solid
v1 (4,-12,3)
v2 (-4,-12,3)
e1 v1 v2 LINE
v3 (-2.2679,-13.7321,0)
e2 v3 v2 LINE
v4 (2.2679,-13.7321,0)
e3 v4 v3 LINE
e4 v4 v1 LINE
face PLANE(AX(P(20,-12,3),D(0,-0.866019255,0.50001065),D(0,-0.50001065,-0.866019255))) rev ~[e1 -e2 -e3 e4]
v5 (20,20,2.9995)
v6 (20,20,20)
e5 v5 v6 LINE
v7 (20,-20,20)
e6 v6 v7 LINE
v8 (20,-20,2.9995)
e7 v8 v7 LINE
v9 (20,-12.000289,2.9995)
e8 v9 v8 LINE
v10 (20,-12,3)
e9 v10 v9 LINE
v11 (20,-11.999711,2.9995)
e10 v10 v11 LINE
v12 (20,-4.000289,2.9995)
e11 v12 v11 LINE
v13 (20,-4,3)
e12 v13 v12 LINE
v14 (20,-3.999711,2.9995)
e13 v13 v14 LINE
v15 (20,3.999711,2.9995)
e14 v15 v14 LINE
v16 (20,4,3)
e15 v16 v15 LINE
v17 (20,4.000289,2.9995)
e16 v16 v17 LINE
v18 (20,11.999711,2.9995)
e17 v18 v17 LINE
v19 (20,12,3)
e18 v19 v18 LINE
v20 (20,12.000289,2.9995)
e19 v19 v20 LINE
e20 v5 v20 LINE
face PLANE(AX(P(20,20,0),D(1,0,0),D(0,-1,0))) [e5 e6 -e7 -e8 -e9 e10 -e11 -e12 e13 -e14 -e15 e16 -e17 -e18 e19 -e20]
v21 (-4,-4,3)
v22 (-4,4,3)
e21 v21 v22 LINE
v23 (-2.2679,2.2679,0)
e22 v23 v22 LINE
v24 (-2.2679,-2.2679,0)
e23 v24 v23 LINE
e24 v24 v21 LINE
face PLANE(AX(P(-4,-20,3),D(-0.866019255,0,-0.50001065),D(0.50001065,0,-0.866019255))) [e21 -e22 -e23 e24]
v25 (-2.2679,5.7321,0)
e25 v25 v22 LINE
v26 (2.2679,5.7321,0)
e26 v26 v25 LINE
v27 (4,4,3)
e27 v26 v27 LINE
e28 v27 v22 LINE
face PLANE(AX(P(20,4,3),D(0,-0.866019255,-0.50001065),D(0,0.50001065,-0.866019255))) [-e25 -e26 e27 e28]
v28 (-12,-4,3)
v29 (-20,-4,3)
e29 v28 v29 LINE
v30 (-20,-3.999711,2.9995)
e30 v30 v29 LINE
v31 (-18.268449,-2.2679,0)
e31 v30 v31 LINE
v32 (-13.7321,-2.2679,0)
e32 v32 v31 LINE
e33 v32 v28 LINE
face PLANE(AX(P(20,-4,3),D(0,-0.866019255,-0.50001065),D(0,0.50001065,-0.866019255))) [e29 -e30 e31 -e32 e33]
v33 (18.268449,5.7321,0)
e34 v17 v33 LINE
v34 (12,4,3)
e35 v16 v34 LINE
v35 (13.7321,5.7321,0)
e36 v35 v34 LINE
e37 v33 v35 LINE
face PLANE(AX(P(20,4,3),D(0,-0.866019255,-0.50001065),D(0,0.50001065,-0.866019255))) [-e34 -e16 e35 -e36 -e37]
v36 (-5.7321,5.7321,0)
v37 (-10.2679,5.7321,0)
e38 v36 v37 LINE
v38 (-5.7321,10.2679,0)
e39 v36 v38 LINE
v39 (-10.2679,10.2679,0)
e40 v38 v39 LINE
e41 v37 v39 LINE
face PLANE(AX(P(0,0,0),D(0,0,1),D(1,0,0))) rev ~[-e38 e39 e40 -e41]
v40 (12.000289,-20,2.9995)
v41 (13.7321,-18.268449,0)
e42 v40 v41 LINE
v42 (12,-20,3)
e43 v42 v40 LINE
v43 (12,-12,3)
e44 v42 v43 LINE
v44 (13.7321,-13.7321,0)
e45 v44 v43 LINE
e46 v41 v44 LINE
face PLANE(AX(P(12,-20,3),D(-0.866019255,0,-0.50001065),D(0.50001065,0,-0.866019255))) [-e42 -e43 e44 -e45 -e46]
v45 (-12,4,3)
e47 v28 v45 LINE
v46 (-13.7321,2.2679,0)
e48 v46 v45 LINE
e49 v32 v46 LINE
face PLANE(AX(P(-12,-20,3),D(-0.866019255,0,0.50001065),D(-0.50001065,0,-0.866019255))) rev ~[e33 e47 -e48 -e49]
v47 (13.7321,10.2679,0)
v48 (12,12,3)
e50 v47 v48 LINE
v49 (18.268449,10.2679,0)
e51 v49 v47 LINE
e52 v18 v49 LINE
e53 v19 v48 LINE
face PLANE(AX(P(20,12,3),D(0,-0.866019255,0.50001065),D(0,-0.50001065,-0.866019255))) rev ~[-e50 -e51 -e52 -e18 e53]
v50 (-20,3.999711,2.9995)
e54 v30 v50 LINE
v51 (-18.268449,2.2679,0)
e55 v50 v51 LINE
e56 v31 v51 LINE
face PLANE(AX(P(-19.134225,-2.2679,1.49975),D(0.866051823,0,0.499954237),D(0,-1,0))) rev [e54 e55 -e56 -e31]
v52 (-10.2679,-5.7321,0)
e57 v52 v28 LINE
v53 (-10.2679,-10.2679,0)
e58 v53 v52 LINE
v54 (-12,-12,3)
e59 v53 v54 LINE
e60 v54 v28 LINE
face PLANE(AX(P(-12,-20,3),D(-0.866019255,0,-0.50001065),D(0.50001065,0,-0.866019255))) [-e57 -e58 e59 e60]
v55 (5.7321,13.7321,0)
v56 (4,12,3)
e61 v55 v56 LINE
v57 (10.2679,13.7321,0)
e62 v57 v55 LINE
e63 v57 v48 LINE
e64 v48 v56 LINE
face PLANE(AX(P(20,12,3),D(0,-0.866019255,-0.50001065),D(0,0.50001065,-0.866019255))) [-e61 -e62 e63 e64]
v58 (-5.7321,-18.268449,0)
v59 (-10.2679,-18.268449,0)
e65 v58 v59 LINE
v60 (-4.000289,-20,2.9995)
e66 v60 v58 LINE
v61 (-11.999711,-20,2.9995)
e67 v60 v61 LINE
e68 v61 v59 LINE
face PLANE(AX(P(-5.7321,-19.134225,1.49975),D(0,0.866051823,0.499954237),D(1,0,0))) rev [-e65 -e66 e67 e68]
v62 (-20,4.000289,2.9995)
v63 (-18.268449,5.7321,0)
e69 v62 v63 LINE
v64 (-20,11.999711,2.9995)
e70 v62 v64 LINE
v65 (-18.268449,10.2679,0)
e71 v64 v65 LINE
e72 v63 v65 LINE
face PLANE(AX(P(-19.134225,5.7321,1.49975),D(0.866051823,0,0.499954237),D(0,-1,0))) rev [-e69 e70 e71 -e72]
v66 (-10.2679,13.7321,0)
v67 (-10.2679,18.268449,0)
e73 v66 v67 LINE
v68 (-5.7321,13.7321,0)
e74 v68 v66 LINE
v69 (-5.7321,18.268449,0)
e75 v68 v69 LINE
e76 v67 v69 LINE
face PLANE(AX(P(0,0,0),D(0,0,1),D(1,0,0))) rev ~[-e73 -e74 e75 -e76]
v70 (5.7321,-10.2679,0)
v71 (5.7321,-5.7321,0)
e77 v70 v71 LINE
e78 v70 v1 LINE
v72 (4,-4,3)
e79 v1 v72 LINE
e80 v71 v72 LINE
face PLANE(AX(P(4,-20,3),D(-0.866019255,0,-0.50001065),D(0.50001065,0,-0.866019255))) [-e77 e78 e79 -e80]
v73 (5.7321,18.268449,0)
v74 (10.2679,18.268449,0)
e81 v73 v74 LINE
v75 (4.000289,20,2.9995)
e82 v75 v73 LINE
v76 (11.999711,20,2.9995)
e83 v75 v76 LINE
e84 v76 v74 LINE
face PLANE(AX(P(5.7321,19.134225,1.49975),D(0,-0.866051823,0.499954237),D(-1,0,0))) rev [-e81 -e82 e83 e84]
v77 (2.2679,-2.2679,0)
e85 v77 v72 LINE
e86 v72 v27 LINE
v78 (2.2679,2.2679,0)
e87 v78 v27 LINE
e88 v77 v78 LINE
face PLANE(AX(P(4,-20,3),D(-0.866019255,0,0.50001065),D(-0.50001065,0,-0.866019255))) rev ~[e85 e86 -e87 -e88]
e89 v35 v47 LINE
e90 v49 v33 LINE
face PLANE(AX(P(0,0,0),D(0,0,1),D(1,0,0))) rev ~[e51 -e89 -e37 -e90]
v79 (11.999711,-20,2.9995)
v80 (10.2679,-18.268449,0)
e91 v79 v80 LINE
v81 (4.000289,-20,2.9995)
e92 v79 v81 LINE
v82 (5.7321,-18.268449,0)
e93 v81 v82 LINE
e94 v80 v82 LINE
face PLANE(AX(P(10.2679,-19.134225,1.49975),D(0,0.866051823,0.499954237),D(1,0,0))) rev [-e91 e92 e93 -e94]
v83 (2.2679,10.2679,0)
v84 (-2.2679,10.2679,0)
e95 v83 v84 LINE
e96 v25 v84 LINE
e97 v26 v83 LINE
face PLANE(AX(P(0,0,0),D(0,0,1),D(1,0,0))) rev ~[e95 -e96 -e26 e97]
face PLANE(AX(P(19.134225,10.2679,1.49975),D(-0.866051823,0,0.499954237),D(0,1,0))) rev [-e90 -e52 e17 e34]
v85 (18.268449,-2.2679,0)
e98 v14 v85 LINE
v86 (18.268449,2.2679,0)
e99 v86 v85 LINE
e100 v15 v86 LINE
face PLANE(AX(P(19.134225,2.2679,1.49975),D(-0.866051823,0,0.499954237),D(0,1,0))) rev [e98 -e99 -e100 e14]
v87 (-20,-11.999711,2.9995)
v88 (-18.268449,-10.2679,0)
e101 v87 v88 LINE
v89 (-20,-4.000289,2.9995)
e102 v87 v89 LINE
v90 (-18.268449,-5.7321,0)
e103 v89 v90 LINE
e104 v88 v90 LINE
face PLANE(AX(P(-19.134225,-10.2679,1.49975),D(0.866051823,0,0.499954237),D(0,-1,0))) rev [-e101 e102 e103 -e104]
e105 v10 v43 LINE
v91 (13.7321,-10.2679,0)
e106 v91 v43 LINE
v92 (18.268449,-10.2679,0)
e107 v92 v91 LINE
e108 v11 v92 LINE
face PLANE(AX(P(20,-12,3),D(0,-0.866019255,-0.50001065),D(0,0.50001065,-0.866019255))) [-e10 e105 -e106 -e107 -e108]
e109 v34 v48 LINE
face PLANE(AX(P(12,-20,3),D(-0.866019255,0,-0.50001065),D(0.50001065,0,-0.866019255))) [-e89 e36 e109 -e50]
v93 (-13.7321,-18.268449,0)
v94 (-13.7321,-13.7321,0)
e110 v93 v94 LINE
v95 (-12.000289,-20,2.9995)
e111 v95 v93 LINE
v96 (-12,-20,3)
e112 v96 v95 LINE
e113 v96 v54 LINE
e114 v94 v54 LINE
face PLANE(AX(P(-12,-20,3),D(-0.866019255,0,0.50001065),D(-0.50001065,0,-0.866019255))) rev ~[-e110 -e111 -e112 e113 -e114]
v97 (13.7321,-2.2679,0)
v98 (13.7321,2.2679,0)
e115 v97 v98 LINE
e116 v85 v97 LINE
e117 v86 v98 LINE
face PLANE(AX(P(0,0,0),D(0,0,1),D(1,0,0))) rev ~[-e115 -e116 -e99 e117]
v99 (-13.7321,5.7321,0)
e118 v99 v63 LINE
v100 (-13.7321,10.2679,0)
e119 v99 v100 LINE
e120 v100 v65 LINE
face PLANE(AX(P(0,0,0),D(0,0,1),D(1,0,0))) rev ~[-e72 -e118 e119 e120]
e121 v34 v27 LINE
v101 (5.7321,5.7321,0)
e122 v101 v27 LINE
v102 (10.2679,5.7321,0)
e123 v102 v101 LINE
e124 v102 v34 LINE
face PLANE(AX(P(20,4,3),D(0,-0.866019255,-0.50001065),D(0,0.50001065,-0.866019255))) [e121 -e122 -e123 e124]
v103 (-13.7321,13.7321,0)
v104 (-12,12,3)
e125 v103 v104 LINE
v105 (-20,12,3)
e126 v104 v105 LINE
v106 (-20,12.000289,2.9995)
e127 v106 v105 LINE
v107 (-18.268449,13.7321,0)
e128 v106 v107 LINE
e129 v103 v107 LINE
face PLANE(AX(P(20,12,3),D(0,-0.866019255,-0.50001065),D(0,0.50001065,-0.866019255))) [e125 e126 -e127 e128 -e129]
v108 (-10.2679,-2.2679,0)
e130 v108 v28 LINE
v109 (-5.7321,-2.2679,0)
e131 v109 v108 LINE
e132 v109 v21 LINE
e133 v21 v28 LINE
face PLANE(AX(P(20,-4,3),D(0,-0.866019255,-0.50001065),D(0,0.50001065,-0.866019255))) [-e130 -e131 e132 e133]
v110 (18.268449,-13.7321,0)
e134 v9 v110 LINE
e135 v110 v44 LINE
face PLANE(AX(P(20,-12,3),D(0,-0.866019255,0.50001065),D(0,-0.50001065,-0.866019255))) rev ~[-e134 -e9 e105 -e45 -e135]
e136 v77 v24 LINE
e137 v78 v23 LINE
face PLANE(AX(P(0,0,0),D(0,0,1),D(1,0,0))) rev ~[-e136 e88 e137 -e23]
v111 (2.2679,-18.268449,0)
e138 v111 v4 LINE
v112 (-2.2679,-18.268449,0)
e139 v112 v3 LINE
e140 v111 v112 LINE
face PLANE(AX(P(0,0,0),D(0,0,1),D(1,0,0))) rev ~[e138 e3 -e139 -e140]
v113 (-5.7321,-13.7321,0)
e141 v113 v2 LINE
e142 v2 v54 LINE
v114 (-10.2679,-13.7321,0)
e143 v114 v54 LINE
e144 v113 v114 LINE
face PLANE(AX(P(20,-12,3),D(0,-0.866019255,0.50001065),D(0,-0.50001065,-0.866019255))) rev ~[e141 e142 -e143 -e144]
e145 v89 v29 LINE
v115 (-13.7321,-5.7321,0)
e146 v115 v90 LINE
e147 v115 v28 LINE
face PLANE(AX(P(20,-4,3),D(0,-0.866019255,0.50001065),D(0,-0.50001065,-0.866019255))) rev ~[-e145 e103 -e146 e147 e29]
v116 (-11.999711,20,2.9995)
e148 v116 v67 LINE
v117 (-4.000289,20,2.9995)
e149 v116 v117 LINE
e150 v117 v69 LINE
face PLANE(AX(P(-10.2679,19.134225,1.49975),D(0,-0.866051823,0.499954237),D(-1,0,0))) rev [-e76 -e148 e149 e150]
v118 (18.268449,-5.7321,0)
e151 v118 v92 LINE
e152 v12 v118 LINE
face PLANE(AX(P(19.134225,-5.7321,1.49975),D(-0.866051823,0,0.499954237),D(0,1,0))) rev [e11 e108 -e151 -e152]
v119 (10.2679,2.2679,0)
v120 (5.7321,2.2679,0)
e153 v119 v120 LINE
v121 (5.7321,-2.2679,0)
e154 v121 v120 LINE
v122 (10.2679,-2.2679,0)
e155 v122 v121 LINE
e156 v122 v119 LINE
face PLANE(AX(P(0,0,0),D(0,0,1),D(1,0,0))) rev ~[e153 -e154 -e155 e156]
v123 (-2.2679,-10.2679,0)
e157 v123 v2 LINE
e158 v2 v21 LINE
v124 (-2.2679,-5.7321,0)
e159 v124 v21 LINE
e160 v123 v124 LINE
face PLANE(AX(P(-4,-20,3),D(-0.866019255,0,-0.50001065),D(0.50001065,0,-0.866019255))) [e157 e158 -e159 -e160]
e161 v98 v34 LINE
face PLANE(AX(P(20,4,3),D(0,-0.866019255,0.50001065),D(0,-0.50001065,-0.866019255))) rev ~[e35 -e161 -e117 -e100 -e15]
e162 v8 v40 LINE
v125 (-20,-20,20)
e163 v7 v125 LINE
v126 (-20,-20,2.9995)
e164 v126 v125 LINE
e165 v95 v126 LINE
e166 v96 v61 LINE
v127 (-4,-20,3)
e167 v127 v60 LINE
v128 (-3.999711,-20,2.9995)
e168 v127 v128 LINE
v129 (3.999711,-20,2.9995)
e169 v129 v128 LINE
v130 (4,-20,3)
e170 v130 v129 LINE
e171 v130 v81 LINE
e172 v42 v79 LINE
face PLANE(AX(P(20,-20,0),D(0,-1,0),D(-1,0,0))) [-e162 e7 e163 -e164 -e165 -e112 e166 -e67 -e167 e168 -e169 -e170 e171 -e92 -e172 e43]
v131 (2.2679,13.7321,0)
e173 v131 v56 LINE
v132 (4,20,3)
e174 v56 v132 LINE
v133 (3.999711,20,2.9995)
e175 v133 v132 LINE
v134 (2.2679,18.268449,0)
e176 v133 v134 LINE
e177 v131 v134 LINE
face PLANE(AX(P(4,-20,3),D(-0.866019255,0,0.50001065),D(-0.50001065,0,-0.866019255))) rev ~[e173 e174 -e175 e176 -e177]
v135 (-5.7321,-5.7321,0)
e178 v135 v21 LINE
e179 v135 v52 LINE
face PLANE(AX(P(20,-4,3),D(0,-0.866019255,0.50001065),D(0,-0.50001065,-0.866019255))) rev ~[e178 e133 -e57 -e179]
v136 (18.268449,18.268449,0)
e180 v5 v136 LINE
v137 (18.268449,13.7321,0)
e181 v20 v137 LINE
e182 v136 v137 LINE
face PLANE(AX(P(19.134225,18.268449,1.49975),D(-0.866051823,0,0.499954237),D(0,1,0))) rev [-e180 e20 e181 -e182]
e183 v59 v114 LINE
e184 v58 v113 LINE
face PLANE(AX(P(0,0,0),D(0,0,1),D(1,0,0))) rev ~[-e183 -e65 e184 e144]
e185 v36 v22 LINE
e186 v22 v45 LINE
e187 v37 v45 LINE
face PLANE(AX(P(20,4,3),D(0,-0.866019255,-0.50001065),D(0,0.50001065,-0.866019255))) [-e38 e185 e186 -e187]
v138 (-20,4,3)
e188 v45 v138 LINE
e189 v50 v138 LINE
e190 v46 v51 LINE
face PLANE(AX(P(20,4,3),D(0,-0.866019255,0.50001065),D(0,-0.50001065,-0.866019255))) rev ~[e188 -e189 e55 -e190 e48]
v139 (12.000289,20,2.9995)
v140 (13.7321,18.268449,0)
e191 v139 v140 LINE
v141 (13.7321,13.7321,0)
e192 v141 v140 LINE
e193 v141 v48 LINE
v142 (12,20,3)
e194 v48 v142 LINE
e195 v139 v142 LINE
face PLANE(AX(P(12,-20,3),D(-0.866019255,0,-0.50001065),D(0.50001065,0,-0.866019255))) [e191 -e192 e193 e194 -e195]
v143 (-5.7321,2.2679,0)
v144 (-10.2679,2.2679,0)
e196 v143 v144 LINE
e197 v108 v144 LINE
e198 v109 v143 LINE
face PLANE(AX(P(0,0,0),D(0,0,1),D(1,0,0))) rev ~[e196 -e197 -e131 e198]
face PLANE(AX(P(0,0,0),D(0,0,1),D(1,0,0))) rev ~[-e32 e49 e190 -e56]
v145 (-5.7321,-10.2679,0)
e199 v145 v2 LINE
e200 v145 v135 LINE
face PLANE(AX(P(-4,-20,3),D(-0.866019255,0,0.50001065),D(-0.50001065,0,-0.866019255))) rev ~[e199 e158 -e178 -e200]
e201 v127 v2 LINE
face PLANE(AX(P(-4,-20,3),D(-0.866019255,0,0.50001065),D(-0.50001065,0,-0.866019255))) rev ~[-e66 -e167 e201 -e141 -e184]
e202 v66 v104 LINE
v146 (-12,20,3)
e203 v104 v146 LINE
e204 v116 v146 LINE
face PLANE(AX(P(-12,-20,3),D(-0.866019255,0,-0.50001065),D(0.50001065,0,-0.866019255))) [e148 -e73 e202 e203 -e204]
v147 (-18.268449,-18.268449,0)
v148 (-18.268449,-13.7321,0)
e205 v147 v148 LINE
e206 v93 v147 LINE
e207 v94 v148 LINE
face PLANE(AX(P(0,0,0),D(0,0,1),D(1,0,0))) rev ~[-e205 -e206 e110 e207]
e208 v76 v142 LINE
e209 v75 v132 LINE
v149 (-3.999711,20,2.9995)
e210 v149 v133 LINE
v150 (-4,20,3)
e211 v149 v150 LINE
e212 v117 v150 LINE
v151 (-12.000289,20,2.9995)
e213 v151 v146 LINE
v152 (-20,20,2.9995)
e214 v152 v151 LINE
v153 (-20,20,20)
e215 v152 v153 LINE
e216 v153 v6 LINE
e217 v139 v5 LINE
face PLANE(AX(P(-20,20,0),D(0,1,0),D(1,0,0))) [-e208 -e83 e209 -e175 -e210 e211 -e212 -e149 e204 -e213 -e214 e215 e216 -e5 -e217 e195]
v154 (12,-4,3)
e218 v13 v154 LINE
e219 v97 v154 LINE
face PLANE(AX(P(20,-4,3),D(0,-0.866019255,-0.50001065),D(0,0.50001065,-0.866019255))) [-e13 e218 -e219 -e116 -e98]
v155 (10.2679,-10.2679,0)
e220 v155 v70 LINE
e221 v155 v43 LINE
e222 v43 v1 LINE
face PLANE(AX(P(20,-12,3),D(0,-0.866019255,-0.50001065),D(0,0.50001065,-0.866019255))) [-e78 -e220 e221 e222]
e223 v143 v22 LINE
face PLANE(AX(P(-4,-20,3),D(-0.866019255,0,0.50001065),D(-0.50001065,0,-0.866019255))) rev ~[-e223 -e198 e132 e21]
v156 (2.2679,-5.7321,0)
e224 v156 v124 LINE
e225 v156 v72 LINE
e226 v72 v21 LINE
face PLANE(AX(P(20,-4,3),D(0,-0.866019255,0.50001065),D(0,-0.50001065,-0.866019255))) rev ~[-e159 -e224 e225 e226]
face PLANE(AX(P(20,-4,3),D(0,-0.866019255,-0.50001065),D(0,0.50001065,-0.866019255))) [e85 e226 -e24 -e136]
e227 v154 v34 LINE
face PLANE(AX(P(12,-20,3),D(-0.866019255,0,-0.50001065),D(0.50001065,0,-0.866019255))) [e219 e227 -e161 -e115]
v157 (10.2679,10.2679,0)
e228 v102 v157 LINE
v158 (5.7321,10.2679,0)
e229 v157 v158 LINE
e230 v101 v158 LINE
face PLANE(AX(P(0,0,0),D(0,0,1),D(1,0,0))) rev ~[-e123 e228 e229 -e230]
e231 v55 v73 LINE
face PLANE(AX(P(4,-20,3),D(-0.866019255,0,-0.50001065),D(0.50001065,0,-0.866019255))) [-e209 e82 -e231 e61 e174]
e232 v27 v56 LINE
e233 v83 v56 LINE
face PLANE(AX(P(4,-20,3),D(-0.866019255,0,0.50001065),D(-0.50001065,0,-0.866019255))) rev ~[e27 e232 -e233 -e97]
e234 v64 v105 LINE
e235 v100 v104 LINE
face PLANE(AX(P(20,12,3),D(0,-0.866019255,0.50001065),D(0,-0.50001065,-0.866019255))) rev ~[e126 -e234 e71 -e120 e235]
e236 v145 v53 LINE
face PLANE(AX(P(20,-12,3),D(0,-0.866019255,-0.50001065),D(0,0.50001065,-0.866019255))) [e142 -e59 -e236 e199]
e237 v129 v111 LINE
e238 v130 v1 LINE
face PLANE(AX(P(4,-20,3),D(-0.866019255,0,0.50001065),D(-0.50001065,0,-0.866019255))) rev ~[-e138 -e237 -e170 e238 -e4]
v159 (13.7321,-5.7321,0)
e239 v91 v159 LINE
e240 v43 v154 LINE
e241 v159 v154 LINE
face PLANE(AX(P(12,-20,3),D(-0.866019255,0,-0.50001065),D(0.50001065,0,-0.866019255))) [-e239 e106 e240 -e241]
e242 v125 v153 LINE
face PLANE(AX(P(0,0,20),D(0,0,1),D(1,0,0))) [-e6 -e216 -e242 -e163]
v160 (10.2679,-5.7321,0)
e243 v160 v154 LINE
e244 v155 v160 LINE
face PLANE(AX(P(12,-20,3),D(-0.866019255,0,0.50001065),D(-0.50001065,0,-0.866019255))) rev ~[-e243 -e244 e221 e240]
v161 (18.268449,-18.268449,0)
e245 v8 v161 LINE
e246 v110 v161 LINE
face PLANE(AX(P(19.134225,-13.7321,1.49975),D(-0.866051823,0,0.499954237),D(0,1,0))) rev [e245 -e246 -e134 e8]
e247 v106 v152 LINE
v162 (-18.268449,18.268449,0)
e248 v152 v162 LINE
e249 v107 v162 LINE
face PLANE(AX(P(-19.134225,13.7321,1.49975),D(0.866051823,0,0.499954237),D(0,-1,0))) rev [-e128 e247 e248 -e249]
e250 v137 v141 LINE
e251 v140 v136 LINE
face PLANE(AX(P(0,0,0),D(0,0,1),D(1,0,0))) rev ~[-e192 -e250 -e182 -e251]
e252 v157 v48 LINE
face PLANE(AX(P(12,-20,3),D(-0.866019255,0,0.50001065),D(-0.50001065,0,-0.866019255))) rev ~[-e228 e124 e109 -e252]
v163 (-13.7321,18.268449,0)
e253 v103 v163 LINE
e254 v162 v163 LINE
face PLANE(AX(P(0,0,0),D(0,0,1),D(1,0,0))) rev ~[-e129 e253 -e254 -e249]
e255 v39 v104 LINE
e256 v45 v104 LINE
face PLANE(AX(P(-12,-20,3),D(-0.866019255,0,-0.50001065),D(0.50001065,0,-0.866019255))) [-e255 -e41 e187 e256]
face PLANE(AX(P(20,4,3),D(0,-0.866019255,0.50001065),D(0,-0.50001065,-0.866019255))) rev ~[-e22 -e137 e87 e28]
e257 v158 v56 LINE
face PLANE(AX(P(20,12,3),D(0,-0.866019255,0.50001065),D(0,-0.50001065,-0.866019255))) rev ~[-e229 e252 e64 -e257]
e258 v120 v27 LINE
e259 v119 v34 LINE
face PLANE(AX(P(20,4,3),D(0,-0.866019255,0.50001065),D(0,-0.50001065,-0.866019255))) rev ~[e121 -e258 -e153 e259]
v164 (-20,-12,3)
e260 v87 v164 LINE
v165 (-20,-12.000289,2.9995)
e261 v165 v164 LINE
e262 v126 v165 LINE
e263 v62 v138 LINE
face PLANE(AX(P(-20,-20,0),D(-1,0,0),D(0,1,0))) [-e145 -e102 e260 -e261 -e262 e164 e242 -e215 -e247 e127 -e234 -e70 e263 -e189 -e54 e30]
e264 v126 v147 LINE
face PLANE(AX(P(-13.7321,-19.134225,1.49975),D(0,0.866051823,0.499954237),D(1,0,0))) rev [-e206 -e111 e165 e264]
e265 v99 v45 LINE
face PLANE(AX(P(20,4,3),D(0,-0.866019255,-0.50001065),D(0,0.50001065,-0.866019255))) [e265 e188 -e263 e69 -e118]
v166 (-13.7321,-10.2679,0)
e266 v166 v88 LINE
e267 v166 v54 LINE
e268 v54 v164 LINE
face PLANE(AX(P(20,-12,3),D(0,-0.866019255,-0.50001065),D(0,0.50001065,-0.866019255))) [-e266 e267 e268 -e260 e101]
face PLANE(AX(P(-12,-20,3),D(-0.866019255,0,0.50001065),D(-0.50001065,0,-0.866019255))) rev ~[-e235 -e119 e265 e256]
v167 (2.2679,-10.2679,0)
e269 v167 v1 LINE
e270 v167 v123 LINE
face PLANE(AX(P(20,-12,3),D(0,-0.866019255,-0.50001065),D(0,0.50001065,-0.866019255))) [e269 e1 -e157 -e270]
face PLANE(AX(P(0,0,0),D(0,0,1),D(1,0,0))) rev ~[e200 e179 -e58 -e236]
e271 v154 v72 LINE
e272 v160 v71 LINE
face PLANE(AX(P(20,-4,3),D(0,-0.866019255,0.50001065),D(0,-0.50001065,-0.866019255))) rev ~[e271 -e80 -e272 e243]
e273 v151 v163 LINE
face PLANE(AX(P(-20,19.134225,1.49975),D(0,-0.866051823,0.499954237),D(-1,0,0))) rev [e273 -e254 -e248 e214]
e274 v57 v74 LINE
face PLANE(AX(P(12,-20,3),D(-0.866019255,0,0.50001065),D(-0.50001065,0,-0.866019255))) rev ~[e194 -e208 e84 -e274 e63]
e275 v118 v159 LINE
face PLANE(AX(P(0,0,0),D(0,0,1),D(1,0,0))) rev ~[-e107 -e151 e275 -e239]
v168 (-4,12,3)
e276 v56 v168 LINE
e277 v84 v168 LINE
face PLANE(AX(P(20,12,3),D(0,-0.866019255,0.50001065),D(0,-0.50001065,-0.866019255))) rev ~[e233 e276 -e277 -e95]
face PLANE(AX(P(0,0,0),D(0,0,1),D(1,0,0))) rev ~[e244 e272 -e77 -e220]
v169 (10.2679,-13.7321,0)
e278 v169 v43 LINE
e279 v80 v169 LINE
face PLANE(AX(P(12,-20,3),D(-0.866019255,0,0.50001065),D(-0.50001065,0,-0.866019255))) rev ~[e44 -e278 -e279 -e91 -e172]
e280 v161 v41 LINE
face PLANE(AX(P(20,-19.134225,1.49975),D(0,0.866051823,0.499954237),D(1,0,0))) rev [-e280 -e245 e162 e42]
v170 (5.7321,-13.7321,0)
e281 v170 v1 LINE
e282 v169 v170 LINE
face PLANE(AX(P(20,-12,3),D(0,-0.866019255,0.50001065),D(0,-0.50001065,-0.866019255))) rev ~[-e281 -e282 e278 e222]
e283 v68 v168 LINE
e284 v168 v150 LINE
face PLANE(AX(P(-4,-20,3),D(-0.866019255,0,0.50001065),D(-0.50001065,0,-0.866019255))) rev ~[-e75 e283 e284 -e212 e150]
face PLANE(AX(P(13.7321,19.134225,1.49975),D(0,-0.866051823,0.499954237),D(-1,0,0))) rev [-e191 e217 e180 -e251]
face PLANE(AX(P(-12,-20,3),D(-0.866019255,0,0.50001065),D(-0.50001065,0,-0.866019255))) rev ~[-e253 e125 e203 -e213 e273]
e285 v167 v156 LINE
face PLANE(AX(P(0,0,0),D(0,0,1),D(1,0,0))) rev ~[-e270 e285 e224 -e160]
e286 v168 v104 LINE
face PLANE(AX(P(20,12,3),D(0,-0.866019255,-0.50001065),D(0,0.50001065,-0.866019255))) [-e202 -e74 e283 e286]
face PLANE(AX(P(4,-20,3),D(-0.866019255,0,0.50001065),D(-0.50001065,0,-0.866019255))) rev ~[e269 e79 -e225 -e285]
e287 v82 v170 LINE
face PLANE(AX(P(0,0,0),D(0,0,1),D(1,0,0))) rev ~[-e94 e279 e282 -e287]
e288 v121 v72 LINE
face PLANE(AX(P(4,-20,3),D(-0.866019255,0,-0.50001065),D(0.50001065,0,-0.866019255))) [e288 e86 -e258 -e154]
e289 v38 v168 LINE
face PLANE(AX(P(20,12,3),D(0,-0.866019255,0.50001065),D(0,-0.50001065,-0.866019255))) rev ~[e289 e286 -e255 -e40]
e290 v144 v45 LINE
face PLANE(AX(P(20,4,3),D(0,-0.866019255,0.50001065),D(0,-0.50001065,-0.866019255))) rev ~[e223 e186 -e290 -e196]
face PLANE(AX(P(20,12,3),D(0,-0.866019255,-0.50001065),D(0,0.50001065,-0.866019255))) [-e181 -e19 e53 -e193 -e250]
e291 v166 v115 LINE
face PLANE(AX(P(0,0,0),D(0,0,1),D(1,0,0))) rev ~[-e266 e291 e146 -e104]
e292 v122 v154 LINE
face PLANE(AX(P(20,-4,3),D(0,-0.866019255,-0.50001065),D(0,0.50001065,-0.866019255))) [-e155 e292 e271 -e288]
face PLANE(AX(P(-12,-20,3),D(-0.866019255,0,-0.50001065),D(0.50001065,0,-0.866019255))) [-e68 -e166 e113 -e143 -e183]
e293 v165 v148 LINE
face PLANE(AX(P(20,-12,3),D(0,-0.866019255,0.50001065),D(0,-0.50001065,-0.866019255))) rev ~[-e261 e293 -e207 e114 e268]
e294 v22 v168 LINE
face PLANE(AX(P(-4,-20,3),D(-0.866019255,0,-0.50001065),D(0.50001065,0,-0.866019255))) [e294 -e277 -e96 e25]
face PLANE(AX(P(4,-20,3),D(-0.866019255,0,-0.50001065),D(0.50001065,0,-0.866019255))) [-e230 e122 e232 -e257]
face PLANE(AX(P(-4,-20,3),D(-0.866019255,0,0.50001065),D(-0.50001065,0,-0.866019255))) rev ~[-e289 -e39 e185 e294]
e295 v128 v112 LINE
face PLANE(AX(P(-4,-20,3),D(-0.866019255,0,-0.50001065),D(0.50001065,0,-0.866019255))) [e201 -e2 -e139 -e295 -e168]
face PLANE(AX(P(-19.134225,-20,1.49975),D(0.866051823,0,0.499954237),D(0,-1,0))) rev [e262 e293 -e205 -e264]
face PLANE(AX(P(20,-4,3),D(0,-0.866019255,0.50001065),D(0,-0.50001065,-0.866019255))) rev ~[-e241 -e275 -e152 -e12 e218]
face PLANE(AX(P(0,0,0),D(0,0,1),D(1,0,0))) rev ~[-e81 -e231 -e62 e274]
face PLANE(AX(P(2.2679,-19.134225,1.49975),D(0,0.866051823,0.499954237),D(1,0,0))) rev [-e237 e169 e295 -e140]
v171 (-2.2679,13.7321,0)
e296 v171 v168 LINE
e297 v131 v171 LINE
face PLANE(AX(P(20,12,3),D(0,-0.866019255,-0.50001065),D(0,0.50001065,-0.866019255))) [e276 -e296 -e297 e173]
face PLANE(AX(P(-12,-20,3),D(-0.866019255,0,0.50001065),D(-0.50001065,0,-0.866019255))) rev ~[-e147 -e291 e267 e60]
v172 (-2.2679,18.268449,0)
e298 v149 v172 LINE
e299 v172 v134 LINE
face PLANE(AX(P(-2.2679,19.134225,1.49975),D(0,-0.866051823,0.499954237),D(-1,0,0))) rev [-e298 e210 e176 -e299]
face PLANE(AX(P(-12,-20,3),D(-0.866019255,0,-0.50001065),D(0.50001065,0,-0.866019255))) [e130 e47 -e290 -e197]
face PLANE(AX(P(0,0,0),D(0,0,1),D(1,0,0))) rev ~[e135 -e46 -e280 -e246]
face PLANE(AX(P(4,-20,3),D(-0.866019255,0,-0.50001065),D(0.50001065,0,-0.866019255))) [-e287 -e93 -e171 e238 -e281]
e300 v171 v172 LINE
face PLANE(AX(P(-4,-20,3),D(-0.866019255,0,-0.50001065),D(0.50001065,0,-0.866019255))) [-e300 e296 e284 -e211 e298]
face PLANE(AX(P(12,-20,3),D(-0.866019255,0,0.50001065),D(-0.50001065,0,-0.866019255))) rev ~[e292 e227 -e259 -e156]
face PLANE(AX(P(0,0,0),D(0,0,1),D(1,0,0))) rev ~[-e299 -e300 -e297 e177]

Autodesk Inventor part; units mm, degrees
ref_plane "YZ Plane" through (0, 0, 0) normal (1, 0, 0) x (0, 1, 0)
ref_plane "XZ Plane" through (0, 0, 0) normal (0, 1, 0) x (-1, 0, 0)
ref_plane "XY Plane" through (0, 0, 0) normal (0, 0, 1) x (1, 0, 0)
sketch "Sketch1" plane through (0, 0, 0) normal (0, 0, 1) x (1, 0, 0)
  line L0 (-20, 20) -> (20, 20)
  line L1 (20, 20) -> (20, -20)
  line L2 (20, -20) -> (-20, -20)
  line L3 (-20, -20) -> (-20, 20)
  point P0 (0, 0)
  point P1 (-20, 0)
  point P2 (0, 20)
  dimension "d0" = 40
  dimension "d1" = 40
extrude "Extrusion1" add sketch "Sketch1" along normal blind 20
sketch "Sketch2" plane through (-20, -20, 0) normal (0, -1, 0) x (1, 0, 0)
  line L0 (0, 0) -> (40, 0) projected
  line L1 (0, 0) -> (0, 20) projected
  line L2 (40, 0) -> (0, 0)
  line L3 (0, 0) -> (0, 3)
  line L4 (0, 3) -> (40, 3)
  line L5 (40, 3) -> (40, 0)
  line L6 (40, 0) -> (0, 0) projected
  line L7 (32, 0) -> (32, 3)
  line L8 (32, 3) -> (33.7321, 0)
  line L9 (32, 3) -> (30.2679, 0)
  point P0 (20, 0)
  point P1 (40, 1.5)
  dimension "d4" = 3
  dimension "d5" = 8
  dimension "d6" = 30
  dimension "d7" = 30
extrude "Extrusion2" cut sketch "Sketch2" against normal through all contours L9 L7 L0 | L7 L8 L0
pattern_linear "Rectangular Pattern1" count 4 spacing 8 along (-1, 0, 0) of "Extrusion2"
ref_plane "Work Plane1" through (-20, 0, 20) normal (0, -1, 0) x (1, 0, 0)
ref_plane "Work Plane2" through (0, -20, 0) normal (1, 0, 0) x (0, 0, -1)
pattern_circular "Circular Pattern1" count 2 over 90 about axis through (0, 0, 20) along (0, 0, 1) of "Extrusion2", "Rectangular Pattern1"
chamfer "Chamfer1" distance 3 angle 30 5 edges at (16.866, 20, 0) (8, 20, 0) (0, 20, 0) (-8, 20, 0) (-16.866, 20, 0) measured on face at (-1.3333, 20, 14.3333)
chamfer "Chamfer2" distance 3 angle 30 5 edges at (-20, 16.0003, 0) (-20, 8, 0) (-20, 0, 0) (-20, -8, 0) (-20, -16.866, 0) measured on face at (-20, -1.3333, 14.3333)
chamfer "Chamfer3" distance 3 angle 30 5 edges at (-16.0003, -20, 0) (-8, -20, 0) (0, -20, 0) (8, -20, 0) (16.866, -20, 0) measured on face at (1.3333, -20, 14.3333)
chamfer "Chamfer4" distance 3 angle 30 5 edges at (20, -16.0003, 0) (20, -8, 0) (20, 8, 0) (20, 0, 0) (20, 16.0003, 0) measured on face at (20, 1.3333, 14.3333)
properties part number "LI0013-FOOT"
